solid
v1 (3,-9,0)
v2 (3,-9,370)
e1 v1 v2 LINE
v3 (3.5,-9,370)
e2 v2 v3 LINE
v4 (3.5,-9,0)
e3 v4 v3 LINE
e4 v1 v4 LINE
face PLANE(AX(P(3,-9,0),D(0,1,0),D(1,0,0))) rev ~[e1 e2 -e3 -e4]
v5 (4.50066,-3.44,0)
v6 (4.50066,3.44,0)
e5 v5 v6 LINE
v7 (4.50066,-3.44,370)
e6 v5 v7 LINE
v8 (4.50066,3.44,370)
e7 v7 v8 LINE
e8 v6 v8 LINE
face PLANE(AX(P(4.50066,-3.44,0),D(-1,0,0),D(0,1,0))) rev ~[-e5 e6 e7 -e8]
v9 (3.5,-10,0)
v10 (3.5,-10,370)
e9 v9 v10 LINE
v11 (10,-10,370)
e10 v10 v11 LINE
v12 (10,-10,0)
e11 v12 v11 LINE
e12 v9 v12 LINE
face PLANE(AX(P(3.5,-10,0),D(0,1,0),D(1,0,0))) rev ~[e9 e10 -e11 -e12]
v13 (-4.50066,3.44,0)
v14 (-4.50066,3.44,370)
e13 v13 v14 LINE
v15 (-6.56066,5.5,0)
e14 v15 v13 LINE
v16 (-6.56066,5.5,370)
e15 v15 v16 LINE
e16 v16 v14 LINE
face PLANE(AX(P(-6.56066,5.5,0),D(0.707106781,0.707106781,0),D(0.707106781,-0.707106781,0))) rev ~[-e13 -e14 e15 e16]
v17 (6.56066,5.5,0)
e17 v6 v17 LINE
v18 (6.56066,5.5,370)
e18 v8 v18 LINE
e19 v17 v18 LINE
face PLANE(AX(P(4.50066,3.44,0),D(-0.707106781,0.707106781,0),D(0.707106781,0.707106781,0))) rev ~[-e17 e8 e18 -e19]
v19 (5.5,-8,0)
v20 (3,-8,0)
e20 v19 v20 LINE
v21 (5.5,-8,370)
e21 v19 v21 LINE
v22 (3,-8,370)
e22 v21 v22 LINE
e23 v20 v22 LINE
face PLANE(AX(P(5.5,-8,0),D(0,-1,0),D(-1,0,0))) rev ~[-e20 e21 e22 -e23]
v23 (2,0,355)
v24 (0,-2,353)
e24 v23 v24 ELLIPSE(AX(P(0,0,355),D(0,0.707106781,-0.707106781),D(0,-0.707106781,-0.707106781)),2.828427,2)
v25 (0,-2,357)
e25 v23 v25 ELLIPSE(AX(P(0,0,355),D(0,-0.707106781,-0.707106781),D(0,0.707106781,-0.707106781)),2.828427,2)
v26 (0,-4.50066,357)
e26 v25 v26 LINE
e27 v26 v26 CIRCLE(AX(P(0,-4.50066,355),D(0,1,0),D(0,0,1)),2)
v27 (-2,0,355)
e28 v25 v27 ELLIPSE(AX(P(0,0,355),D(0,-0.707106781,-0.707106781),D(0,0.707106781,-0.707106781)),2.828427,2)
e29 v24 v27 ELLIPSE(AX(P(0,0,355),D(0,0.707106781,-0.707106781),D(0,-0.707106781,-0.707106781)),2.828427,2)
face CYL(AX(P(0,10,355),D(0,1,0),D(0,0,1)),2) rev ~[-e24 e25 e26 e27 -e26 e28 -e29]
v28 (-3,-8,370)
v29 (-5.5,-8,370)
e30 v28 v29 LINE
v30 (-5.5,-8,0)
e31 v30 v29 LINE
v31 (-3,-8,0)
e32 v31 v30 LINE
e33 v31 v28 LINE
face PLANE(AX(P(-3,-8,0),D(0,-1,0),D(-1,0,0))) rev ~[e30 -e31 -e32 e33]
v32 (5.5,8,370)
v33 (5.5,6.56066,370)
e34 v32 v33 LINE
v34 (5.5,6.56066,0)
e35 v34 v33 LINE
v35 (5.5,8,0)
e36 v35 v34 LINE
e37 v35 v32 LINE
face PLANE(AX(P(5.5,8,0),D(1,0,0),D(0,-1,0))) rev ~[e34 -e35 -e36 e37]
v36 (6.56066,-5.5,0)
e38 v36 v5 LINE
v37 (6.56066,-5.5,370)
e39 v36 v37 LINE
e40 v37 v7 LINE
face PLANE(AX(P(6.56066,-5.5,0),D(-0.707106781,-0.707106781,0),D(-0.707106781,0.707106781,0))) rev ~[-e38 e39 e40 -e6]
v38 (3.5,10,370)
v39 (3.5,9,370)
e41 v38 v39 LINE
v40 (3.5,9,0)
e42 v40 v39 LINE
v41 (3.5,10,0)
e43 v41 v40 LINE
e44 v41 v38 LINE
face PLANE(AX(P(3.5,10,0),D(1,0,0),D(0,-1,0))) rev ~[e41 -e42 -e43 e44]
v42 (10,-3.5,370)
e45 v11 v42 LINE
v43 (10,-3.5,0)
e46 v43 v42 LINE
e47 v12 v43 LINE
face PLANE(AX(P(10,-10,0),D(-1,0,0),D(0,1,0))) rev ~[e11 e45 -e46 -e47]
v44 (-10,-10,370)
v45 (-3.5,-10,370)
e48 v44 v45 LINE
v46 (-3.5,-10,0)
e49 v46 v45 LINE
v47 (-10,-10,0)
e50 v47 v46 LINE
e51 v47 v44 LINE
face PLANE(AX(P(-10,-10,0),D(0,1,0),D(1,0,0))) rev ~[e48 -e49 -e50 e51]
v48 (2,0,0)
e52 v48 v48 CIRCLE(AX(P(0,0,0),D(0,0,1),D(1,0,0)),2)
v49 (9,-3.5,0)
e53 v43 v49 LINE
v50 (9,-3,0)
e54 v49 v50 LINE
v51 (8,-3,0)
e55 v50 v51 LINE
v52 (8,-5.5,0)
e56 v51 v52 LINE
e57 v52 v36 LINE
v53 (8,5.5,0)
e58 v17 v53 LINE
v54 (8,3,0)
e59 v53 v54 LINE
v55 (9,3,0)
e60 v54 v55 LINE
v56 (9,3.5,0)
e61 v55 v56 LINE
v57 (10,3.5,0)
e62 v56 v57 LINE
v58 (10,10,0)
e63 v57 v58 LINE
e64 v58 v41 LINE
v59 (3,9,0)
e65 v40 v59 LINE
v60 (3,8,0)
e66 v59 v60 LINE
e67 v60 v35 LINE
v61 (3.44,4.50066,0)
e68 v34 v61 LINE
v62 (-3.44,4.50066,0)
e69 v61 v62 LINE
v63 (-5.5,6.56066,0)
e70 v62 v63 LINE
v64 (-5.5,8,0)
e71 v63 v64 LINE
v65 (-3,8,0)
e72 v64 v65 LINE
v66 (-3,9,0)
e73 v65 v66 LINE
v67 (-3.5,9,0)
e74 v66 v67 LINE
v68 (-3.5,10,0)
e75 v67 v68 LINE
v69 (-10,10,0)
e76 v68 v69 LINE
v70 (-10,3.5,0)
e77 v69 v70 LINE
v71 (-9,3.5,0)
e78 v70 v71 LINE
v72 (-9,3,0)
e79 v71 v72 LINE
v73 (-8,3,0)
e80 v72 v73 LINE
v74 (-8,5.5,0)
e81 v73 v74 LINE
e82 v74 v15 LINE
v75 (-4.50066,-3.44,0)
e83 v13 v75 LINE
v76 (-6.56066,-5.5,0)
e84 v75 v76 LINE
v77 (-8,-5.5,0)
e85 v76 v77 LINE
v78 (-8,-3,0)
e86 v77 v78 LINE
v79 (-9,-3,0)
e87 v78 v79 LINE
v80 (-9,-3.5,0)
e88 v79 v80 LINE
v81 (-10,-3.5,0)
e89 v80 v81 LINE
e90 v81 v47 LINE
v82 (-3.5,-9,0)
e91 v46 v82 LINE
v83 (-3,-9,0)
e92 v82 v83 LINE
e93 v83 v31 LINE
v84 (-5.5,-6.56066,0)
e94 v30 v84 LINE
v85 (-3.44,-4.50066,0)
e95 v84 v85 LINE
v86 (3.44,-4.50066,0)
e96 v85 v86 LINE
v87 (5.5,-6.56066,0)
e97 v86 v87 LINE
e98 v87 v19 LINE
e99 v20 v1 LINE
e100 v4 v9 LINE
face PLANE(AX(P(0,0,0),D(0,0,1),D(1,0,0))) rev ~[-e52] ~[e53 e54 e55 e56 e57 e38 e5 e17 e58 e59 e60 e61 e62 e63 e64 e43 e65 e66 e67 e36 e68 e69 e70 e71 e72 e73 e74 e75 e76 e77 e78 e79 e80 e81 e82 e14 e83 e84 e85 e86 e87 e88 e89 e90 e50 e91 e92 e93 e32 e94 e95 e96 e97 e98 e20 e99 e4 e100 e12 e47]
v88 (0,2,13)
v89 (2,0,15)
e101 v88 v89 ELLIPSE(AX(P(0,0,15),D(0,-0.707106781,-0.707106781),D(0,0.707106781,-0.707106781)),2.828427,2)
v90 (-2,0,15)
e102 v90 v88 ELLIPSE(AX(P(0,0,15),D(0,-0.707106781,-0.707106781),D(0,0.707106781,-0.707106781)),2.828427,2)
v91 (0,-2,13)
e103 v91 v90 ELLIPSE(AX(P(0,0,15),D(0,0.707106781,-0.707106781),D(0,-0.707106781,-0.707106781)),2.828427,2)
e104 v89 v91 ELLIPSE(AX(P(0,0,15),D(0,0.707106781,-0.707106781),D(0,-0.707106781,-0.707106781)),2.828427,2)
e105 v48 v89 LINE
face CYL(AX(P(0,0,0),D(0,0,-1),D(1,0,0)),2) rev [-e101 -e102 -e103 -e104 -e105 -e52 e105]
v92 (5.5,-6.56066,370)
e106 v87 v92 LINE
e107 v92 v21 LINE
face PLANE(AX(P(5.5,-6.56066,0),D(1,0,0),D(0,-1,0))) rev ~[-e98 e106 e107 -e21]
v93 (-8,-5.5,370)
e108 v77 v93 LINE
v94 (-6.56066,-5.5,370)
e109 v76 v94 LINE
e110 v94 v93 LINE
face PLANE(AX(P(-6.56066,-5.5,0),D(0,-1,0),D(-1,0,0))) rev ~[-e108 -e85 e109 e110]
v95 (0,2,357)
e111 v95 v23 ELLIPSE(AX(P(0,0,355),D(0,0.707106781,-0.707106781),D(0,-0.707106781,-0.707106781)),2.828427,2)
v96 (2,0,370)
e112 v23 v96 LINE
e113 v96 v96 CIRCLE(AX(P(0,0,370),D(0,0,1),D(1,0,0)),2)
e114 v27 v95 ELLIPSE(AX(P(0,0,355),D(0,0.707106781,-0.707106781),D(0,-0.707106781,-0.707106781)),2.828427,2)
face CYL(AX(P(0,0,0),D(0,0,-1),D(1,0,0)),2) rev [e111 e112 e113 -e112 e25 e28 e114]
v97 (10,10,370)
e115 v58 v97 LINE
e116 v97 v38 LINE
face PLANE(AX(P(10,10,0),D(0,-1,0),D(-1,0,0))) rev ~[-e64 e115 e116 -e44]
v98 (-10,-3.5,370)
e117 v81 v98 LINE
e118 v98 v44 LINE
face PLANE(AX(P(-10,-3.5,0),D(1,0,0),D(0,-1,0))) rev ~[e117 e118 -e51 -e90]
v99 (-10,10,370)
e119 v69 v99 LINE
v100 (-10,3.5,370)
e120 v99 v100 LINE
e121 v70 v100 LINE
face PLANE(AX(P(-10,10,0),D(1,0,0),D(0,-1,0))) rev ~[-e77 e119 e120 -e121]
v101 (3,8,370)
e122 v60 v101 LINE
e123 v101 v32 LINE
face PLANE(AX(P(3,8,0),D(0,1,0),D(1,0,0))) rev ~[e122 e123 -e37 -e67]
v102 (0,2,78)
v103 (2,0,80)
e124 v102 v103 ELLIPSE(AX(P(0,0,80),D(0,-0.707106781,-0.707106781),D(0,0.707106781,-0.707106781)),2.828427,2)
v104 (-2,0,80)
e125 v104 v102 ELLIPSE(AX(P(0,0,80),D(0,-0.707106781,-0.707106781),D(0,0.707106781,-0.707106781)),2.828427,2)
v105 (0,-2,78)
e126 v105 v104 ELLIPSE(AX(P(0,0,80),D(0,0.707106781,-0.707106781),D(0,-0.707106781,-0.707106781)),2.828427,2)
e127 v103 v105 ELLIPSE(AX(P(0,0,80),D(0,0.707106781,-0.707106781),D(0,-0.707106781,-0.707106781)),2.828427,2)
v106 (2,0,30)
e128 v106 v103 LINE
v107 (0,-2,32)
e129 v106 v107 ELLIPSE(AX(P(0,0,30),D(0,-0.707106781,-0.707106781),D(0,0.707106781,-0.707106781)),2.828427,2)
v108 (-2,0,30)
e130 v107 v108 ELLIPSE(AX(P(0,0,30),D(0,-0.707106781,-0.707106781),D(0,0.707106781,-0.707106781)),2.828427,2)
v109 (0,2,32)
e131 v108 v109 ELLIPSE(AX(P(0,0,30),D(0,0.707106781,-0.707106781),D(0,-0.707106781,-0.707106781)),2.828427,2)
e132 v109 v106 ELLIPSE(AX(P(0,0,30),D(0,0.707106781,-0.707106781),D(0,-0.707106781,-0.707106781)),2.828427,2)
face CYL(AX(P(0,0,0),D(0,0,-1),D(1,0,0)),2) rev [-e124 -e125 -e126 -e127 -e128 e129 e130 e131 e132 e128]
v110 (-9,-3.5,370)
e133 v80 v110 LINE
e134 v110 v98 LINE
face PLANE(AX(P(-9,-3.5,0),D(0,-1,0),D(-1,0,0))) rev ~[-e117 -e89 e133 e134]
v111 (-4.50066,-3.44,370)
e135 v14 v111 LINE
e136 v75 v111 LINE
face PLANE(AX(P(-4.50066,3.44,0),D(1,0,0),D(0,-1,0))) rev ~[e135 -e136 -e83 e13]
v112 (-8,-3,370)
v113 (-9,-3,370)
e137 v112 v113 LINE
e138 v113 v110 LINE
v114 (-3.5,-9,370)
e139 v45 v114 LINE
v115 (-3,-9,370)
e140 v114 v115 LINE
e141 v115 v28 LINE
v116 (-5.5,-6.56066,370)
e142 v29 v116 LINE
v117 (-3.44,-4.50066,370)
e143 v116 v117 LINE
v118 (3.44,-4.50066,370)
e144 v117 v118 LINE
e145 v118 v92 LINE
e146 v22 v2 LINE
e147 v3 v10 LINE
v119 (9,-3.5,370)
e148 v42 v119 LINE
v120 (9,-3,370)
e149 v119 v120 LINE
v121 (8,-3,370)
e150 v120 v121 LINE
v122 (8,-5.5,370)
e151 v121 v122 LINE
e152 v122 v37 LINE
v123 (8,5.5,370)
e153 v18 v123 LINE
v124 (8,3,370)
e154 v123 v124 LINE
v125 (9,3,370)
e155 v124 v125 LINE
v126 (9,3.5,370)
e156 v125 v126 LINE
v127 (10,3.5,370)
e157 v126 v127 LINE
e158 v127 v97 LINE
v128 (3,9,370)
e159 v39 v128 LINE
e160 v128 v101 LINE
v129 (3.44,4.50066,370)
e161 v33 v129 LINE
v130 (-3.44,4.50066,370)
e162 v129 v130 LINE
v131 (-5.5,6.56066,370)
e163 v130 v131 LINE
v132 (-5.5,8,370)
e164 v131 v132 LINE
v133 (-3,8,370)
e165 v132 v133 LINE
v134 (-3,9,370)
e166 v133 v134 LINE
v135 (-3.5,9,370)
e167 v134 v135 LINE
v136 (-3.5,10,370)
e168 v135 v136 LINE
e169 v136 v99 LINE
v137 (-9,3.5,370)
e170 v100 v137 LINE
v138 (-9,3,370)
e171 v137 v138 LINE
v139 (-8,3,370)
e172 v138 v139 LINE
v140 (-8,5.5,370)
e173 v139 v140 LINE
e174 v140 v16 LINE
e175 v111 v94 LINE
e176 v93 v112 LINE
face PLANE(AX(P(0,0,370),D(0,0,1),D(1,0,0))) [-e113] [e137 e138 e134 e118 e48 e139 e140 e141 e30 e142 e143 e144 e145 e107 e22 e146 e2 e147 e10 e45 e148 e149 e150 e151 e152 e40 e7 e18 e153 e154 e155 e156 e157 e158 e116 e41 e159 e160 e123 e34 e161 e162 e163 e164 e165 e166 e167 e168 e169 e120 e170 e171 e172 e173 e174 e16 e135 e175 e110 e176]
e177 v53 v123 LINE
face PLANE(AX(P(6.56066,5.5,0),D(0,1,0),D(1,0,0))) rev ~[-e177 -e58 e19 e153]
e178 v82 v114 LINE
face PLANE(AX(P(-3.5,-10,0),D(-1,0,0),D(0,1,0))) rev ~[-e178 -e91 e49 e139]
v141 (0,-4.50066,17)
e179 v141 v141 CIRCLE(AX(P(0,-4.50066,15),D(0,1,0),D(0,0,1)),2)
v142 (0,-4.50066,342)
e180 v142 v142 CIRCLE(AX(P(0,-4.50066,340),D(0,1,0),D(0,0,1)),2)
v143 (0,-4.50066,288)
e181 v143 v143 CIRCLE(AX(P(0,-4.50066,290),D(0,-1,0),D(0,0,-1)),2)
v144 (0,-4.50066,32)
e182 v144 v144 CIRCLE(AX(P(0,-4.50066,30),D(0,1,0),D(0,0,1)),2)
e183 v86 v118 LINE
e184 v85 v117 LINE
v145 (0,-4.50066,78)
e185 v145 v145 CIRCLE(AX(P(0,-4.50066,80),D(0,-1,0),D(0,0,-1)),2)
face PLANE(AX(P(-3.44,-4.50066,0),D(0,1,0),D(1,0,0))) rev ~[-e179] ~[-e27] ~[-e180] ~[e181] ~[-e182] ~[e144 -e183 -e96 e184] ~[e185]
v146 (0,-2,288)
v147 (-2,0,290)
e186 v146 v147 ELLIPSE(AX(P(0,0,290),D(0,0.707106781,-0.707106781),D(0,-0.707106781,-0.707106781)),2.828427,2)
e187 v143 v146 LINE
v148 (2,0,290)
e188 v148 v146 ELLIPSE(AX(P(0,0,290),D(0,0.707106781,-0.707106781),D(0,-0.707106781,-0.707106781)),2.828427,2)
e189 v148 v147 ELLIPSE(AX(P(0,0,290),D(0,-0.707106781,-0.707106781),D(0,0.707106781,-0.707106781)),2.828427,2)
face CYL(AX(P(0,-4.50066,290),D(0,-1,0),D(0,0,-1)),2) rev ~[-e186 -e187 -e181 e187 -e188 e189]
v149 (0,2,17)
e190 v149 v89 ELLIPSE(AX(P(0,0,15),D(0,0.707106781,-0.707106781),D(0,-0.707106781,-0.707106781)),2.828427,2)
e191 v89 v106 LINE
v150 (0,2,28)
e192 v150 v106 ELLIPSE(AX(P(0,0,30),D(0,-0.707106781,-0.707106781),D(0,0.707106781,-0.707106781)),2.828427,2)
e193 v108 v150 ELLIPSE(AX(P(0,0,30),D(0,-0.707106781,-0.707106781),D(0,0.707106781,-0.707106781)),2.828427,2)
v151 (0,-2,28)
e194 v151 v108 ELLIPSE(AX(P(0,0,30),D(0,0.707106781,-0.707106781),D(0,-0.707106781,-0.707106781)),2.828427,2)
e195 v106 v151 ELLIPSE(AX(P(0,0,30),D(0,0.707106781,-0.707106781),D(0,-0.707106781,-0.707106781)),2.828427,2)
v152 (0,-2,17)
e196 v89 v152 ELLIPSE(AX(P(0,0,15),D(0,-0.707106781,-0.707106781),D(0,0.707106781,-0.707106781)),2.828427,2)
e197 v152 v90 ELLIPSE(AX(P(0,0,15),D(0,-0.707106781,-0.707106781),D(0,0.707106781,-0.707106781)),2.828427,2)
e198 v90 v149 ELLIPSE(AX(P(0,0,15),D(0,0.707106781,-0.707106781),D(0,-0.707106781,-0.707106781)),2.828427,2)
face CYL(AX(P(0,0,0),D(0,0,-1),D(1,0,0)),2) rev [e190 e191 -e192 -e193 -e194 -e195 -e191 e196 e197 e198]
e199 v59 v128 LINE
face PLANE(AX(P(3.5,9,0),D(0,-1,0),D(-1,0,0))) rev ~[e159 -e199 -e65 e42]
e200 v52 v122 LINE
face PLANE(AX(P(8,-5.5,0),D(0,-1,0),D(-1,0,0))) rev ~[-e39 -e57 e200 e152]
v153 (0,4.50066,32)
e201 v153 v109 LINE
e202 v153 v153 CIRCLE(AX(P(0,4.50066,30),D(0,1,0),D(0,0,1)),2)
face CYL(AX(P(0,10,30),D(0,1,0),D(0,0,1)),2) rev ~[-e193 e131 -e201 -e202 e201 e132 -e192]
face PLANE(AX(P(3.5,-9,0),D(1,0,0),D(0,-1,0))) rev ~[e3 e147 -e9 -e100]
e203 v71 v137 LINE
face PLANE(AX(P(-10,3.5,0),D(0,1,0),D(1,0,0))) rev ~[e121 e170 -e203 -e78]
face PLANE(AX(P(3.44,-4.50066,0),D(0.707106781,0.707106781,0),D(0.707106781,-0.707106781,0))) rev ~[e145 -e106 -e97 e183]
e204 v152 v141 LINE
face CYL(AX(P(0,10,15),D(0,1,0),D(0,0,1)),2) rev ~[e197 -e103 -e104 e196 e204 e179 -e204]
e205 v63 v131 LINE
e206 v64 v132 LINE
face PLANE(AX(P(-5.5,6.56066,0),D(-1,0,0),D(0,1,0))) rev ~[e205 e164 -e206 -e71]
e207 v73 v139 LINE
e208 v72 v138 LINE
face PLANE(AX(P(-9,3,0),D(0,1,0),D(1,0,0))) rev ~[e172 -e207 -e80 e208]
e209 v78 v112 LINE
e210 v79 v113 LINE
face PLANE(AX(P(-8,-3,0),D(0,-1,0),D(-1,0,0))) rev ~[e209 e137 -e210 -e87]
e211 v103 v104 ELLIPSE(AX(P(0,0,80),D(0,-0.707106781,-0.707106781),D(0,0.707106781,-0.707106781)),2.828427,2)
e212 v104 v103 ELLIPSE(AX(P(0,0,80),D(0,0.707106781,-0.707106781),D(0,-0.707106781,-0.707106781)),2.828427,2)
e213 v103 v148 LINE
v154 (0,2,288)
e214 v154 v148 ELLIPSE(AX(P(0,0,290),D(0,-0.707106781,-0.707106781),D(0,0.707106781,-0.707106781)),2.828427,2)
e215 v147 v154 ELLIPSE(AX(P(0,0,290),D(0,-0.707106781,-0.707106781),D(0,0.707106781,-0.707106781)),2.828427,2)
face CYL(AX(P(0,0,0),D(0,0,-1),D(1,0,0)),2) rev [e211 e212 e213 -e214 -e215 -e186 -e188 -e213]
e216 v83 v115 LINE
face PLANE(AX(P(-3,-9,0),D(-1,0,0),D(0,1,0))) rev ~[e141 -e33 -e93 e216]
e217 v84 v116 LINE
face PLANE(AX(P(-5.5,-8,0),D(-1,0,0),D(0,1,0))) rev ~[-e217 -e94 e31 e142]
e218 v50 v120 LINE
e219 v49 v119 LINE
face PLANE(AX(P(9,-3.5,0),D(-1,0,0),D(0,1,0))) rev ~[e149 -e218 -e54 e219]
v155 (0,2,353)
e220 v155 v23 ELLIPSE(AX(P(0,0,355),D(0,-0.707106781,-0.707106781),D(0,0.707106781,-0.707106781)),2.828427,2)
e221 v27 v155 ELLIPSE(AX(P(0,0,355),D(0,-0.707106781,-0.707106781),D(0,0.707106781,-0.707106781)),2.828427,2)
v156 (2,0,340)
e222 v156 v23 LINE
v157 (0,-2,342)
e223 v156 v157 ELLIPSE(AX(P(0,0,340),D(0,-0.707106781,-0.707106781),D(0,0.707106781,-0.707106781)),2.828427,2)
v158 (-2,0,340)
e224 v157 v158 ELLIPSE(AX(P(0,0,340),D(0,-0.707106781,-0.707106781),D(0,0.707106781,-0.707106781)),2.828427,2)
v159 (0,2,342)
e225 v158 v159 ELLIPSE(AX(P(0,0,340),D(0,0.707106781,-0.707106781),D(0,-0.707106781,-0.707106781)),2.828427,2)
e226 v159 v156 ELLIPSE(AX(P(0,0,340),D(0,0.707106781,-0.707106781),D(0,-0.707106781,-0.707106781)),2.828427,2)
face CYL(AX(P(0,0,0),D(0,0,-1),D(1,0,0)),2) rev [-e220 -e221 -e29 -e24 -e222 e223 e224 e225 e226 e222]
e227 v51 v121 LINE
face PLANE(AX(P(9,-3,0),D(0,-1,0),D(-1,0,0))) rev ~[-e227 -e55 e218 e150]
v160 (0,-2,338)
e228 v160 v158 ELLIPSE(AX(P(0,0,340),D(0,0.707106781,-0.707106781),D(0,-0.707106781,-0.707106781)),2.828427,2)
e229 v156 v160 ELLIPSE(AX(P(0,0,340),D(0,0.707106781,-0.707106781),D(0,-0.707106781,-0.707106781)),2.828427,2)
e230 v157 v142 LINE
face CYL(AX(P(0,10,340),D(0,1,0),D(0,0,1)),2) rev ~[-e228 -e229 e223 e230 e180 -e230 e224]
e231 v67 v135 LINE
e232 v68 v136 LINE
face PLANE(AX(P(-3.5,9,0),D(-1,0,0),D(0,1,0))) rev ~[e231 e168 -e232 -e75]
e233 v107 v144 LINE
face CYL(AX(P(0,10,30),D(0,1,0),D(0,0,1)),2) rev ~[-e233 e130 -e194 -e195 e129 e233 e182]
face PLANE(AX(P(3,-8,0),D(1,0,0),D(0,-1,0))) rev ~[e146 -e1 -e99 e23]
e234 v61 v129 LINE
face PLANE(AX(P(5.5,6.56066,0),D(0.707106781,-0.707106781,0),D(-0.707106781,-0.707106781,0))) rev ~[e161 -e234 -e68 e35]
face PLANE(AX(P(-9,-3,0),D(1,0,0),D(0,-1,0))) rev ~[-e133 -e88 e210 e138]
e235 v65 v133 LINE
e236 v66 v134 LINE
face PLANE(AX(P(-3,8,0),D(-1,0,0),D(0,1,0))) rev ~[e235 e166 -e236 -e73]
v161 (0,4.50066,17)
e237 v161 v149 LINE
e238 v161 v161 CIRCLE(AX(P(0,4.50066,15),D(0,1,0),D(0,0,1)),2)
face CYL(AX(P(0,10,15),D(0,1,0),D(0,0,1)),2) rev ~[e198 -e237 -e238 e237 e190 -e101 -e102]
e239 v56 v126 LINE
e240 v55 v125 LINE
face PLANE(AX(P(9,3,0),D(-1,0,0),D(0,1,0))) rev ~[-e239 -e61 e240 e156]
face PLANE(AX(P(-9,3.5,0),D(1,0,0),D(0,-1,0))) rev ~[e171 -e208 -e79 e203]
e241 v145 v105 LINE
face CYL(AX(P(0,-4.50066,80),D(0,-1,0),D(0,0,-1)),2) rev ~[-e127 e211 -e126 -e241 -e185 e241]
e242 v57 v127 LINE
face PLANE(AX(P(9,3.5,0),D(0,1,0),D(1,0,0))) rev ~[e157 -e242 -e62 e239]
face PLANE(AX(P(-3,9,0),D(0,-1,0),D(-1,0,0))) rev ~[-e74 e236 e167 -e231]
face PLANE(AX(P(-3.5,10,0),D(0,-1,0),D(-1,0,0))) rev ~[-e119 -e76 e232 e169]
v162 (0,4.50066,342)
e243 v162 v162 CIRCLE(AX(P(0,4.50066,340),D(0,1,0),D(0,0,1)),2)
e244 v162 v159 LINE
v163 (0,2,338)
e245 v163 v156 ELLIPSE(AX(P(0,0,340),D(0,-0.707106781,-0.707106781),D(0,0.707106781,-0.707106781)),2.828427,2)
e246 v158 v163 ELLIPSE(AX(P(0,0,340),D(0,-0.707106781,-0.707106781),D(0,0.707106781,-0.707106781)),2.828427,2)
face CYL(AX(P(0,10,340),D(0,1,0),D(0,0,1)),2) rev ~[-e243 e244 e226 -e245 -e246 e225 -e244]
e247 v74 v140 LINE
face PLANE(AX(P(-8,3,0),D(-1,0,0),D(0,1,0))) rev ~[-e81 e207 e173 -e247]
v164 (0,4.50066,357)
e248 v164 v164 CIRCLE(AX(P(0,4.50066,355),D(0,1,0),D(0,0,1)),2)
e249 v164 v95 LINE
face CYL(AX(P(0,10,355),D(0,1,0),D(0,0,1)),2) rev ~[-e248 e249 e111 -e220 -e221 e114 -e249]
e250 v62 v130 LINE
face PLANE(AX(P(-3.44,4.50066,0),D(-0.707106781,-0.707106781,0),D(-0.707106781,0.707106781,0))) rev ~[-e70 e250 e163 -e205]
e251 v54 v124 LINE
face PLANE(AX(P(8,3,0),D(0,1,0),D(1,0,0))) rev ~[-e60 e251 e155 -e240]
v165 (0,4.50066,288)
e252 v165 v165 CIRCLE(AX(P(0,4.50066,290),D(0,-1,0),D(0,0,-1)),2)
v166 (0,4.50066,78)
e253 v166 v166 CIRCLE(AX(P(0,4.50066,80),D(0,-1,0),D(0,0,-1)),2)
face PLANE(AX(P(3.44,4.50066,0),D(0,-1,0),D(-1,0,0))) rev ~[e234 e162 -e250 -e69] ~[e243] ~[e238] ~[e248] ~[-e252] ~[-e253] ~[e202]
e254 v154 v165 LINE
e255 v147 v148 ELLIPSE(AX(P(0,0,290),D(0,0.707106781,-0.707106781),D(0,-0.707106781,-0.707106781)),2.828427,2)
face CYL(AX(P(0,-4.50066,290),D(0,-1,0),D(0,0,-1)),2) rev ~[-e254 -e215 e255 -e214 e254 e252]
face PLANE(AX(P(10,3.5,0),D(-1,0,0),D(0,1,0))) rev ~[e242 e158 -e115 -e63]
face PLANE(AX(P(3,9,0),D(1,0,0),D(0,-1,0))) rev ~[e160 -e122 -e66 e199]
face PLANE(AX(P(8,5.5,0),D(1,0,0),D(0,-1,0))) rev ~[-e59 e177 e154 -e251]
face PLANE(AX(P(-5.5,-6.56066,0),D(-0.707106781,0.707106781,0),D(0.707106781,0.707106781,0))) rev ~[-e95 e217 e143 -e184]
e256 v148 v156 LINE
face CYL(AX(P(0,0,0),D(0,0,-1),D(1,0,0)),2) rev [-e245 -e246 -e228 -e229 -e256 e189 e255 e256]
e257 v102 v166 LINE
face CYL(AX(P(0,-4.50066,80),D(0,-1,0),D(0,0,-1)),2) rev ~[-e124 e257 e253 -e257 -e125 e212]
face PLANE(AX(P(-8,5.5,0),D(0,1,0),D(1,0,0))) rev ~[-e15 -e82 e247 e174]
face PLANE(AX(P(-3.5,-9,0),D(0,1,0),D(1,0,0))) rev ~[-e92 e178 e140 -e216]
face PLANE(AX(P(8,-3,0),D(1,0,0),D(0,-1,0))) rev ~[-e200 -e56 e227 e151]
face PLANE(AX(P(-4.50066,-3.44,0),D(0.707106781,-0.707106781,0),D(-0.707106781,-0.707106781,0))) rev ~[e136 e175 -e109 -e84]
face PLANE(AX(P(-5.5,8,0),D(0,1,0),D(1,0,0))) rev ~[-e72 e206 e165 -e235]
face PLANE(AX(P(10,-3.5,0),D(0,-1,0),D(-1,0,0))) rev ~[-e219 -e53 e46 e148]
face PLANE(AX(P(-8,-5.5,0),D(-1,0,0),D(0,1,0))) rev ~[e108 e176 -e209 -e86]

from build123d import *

# Parameters (mm, degrees)
SKETCH1_R           = 2
BOSS_EXTRUDE1_DEPTH = 370
SKETCH2_R           = 2
CUT_EXTRUDE1_DEPTH  = 27
SKETCH3_R           = 2
CUT_EXTRUDE2_DEPTH  = 28


with BuildPart() as part:
    # Sketch1 → Boss-Extrude1 (new body)
    with BuildSketch(Plane.XY):
        Polygon((-10, -10), (-3.5, -10), (-3.5, -9), (-3, -9), (-3, -8), (-5.5, -8), (-5.5, -6.560660172), (-3.44, -4.500660172), (3.44, -4.500660172), (5.5, -6.560660172), (5.5, -8), (3, -8), (3, -9), (3.5, -9), (3.5, -10), (10, -10), (10, -3.5), (9, -3.5), (9, -3), (8, -3), (8, -5.5), (6.560660172, -5.5), (4.500660172, -3.44), (4.500660172, 3.44), (6.560660172, 5.5), (8, 5.5), (8, 3), (9, 3), (9, 3.5), (10, 3.5), (10, 10), (3.5, 10), (3.5, 9), (3, 9), (3, 8), (5.5, 8), (5.5, 6.560660172), (3.44, 4.500660172), (-3.44, 4.500660172), (-5.5, 6.560660172), (-5.5, 8), (-3, 8), (-3, 9), (-3.5, 9), (-3.5, 10), (-10, 10), (-10, 3.5), (-9, 3.5), (-9, 3), (-8, 3), (-8, 5.5), (-6.560660172, 5.5), (-4.500660172, 3.44), (-4.500660172, -3.44), (-6.560660172, -5.5), (-8, -5.5), (-8, -3), (-9, -3), (-9, -3.5), (-10, -3.5), align=None)
        Circle(SKETCH1_R, mode=Mode.SUBTRACT)
    extrude(amount=BOSS_EXTRUDE1_DEPTH)

    # Sketch2 → Cut-Extrude1 (cut)
    with BuildSketch(Plane(origin=(0, 10, 0), x_dir=(1, 0, 0), z_dir=(0, 1, 0))):
        with Locations(Location((0, -15, 0), (0, 0, 270))):
            Circle(SKETCH2_R)
        with Locations(Location((0, -30, 0), (0, 0, 270))):
            Circle(SKETCH2_R)
        with Locations(Location((0, -355, 0), (0, 0, 270))):
            Circle(SKETCH2_R)
        with Locations(Location((0, -340, 0), (0, 0, 270))):
            Circle(SKETCH2_R)
    extrude(amount=-CUT_EXTRUDE1_DEPTH, mode=Mode.SUBTRACT)

    # Sketch3 → Cut-Extrude2 (cut)
    with BuildSketch(Plane.XZ.offset(4.500660172)):
        with Locations(Location((0, 80, 0), (0, 0, 270))):
            Circle(SKETCH3_R)
        with Locations(Location((0, 290, 0), (0, 0, 270))):
            Circle(SKETCH3_R)
    extrude(amount=-CUT_EXTRUDE2_DEPTH, mode=Mode.SUBTRACT)


solid = part.part
